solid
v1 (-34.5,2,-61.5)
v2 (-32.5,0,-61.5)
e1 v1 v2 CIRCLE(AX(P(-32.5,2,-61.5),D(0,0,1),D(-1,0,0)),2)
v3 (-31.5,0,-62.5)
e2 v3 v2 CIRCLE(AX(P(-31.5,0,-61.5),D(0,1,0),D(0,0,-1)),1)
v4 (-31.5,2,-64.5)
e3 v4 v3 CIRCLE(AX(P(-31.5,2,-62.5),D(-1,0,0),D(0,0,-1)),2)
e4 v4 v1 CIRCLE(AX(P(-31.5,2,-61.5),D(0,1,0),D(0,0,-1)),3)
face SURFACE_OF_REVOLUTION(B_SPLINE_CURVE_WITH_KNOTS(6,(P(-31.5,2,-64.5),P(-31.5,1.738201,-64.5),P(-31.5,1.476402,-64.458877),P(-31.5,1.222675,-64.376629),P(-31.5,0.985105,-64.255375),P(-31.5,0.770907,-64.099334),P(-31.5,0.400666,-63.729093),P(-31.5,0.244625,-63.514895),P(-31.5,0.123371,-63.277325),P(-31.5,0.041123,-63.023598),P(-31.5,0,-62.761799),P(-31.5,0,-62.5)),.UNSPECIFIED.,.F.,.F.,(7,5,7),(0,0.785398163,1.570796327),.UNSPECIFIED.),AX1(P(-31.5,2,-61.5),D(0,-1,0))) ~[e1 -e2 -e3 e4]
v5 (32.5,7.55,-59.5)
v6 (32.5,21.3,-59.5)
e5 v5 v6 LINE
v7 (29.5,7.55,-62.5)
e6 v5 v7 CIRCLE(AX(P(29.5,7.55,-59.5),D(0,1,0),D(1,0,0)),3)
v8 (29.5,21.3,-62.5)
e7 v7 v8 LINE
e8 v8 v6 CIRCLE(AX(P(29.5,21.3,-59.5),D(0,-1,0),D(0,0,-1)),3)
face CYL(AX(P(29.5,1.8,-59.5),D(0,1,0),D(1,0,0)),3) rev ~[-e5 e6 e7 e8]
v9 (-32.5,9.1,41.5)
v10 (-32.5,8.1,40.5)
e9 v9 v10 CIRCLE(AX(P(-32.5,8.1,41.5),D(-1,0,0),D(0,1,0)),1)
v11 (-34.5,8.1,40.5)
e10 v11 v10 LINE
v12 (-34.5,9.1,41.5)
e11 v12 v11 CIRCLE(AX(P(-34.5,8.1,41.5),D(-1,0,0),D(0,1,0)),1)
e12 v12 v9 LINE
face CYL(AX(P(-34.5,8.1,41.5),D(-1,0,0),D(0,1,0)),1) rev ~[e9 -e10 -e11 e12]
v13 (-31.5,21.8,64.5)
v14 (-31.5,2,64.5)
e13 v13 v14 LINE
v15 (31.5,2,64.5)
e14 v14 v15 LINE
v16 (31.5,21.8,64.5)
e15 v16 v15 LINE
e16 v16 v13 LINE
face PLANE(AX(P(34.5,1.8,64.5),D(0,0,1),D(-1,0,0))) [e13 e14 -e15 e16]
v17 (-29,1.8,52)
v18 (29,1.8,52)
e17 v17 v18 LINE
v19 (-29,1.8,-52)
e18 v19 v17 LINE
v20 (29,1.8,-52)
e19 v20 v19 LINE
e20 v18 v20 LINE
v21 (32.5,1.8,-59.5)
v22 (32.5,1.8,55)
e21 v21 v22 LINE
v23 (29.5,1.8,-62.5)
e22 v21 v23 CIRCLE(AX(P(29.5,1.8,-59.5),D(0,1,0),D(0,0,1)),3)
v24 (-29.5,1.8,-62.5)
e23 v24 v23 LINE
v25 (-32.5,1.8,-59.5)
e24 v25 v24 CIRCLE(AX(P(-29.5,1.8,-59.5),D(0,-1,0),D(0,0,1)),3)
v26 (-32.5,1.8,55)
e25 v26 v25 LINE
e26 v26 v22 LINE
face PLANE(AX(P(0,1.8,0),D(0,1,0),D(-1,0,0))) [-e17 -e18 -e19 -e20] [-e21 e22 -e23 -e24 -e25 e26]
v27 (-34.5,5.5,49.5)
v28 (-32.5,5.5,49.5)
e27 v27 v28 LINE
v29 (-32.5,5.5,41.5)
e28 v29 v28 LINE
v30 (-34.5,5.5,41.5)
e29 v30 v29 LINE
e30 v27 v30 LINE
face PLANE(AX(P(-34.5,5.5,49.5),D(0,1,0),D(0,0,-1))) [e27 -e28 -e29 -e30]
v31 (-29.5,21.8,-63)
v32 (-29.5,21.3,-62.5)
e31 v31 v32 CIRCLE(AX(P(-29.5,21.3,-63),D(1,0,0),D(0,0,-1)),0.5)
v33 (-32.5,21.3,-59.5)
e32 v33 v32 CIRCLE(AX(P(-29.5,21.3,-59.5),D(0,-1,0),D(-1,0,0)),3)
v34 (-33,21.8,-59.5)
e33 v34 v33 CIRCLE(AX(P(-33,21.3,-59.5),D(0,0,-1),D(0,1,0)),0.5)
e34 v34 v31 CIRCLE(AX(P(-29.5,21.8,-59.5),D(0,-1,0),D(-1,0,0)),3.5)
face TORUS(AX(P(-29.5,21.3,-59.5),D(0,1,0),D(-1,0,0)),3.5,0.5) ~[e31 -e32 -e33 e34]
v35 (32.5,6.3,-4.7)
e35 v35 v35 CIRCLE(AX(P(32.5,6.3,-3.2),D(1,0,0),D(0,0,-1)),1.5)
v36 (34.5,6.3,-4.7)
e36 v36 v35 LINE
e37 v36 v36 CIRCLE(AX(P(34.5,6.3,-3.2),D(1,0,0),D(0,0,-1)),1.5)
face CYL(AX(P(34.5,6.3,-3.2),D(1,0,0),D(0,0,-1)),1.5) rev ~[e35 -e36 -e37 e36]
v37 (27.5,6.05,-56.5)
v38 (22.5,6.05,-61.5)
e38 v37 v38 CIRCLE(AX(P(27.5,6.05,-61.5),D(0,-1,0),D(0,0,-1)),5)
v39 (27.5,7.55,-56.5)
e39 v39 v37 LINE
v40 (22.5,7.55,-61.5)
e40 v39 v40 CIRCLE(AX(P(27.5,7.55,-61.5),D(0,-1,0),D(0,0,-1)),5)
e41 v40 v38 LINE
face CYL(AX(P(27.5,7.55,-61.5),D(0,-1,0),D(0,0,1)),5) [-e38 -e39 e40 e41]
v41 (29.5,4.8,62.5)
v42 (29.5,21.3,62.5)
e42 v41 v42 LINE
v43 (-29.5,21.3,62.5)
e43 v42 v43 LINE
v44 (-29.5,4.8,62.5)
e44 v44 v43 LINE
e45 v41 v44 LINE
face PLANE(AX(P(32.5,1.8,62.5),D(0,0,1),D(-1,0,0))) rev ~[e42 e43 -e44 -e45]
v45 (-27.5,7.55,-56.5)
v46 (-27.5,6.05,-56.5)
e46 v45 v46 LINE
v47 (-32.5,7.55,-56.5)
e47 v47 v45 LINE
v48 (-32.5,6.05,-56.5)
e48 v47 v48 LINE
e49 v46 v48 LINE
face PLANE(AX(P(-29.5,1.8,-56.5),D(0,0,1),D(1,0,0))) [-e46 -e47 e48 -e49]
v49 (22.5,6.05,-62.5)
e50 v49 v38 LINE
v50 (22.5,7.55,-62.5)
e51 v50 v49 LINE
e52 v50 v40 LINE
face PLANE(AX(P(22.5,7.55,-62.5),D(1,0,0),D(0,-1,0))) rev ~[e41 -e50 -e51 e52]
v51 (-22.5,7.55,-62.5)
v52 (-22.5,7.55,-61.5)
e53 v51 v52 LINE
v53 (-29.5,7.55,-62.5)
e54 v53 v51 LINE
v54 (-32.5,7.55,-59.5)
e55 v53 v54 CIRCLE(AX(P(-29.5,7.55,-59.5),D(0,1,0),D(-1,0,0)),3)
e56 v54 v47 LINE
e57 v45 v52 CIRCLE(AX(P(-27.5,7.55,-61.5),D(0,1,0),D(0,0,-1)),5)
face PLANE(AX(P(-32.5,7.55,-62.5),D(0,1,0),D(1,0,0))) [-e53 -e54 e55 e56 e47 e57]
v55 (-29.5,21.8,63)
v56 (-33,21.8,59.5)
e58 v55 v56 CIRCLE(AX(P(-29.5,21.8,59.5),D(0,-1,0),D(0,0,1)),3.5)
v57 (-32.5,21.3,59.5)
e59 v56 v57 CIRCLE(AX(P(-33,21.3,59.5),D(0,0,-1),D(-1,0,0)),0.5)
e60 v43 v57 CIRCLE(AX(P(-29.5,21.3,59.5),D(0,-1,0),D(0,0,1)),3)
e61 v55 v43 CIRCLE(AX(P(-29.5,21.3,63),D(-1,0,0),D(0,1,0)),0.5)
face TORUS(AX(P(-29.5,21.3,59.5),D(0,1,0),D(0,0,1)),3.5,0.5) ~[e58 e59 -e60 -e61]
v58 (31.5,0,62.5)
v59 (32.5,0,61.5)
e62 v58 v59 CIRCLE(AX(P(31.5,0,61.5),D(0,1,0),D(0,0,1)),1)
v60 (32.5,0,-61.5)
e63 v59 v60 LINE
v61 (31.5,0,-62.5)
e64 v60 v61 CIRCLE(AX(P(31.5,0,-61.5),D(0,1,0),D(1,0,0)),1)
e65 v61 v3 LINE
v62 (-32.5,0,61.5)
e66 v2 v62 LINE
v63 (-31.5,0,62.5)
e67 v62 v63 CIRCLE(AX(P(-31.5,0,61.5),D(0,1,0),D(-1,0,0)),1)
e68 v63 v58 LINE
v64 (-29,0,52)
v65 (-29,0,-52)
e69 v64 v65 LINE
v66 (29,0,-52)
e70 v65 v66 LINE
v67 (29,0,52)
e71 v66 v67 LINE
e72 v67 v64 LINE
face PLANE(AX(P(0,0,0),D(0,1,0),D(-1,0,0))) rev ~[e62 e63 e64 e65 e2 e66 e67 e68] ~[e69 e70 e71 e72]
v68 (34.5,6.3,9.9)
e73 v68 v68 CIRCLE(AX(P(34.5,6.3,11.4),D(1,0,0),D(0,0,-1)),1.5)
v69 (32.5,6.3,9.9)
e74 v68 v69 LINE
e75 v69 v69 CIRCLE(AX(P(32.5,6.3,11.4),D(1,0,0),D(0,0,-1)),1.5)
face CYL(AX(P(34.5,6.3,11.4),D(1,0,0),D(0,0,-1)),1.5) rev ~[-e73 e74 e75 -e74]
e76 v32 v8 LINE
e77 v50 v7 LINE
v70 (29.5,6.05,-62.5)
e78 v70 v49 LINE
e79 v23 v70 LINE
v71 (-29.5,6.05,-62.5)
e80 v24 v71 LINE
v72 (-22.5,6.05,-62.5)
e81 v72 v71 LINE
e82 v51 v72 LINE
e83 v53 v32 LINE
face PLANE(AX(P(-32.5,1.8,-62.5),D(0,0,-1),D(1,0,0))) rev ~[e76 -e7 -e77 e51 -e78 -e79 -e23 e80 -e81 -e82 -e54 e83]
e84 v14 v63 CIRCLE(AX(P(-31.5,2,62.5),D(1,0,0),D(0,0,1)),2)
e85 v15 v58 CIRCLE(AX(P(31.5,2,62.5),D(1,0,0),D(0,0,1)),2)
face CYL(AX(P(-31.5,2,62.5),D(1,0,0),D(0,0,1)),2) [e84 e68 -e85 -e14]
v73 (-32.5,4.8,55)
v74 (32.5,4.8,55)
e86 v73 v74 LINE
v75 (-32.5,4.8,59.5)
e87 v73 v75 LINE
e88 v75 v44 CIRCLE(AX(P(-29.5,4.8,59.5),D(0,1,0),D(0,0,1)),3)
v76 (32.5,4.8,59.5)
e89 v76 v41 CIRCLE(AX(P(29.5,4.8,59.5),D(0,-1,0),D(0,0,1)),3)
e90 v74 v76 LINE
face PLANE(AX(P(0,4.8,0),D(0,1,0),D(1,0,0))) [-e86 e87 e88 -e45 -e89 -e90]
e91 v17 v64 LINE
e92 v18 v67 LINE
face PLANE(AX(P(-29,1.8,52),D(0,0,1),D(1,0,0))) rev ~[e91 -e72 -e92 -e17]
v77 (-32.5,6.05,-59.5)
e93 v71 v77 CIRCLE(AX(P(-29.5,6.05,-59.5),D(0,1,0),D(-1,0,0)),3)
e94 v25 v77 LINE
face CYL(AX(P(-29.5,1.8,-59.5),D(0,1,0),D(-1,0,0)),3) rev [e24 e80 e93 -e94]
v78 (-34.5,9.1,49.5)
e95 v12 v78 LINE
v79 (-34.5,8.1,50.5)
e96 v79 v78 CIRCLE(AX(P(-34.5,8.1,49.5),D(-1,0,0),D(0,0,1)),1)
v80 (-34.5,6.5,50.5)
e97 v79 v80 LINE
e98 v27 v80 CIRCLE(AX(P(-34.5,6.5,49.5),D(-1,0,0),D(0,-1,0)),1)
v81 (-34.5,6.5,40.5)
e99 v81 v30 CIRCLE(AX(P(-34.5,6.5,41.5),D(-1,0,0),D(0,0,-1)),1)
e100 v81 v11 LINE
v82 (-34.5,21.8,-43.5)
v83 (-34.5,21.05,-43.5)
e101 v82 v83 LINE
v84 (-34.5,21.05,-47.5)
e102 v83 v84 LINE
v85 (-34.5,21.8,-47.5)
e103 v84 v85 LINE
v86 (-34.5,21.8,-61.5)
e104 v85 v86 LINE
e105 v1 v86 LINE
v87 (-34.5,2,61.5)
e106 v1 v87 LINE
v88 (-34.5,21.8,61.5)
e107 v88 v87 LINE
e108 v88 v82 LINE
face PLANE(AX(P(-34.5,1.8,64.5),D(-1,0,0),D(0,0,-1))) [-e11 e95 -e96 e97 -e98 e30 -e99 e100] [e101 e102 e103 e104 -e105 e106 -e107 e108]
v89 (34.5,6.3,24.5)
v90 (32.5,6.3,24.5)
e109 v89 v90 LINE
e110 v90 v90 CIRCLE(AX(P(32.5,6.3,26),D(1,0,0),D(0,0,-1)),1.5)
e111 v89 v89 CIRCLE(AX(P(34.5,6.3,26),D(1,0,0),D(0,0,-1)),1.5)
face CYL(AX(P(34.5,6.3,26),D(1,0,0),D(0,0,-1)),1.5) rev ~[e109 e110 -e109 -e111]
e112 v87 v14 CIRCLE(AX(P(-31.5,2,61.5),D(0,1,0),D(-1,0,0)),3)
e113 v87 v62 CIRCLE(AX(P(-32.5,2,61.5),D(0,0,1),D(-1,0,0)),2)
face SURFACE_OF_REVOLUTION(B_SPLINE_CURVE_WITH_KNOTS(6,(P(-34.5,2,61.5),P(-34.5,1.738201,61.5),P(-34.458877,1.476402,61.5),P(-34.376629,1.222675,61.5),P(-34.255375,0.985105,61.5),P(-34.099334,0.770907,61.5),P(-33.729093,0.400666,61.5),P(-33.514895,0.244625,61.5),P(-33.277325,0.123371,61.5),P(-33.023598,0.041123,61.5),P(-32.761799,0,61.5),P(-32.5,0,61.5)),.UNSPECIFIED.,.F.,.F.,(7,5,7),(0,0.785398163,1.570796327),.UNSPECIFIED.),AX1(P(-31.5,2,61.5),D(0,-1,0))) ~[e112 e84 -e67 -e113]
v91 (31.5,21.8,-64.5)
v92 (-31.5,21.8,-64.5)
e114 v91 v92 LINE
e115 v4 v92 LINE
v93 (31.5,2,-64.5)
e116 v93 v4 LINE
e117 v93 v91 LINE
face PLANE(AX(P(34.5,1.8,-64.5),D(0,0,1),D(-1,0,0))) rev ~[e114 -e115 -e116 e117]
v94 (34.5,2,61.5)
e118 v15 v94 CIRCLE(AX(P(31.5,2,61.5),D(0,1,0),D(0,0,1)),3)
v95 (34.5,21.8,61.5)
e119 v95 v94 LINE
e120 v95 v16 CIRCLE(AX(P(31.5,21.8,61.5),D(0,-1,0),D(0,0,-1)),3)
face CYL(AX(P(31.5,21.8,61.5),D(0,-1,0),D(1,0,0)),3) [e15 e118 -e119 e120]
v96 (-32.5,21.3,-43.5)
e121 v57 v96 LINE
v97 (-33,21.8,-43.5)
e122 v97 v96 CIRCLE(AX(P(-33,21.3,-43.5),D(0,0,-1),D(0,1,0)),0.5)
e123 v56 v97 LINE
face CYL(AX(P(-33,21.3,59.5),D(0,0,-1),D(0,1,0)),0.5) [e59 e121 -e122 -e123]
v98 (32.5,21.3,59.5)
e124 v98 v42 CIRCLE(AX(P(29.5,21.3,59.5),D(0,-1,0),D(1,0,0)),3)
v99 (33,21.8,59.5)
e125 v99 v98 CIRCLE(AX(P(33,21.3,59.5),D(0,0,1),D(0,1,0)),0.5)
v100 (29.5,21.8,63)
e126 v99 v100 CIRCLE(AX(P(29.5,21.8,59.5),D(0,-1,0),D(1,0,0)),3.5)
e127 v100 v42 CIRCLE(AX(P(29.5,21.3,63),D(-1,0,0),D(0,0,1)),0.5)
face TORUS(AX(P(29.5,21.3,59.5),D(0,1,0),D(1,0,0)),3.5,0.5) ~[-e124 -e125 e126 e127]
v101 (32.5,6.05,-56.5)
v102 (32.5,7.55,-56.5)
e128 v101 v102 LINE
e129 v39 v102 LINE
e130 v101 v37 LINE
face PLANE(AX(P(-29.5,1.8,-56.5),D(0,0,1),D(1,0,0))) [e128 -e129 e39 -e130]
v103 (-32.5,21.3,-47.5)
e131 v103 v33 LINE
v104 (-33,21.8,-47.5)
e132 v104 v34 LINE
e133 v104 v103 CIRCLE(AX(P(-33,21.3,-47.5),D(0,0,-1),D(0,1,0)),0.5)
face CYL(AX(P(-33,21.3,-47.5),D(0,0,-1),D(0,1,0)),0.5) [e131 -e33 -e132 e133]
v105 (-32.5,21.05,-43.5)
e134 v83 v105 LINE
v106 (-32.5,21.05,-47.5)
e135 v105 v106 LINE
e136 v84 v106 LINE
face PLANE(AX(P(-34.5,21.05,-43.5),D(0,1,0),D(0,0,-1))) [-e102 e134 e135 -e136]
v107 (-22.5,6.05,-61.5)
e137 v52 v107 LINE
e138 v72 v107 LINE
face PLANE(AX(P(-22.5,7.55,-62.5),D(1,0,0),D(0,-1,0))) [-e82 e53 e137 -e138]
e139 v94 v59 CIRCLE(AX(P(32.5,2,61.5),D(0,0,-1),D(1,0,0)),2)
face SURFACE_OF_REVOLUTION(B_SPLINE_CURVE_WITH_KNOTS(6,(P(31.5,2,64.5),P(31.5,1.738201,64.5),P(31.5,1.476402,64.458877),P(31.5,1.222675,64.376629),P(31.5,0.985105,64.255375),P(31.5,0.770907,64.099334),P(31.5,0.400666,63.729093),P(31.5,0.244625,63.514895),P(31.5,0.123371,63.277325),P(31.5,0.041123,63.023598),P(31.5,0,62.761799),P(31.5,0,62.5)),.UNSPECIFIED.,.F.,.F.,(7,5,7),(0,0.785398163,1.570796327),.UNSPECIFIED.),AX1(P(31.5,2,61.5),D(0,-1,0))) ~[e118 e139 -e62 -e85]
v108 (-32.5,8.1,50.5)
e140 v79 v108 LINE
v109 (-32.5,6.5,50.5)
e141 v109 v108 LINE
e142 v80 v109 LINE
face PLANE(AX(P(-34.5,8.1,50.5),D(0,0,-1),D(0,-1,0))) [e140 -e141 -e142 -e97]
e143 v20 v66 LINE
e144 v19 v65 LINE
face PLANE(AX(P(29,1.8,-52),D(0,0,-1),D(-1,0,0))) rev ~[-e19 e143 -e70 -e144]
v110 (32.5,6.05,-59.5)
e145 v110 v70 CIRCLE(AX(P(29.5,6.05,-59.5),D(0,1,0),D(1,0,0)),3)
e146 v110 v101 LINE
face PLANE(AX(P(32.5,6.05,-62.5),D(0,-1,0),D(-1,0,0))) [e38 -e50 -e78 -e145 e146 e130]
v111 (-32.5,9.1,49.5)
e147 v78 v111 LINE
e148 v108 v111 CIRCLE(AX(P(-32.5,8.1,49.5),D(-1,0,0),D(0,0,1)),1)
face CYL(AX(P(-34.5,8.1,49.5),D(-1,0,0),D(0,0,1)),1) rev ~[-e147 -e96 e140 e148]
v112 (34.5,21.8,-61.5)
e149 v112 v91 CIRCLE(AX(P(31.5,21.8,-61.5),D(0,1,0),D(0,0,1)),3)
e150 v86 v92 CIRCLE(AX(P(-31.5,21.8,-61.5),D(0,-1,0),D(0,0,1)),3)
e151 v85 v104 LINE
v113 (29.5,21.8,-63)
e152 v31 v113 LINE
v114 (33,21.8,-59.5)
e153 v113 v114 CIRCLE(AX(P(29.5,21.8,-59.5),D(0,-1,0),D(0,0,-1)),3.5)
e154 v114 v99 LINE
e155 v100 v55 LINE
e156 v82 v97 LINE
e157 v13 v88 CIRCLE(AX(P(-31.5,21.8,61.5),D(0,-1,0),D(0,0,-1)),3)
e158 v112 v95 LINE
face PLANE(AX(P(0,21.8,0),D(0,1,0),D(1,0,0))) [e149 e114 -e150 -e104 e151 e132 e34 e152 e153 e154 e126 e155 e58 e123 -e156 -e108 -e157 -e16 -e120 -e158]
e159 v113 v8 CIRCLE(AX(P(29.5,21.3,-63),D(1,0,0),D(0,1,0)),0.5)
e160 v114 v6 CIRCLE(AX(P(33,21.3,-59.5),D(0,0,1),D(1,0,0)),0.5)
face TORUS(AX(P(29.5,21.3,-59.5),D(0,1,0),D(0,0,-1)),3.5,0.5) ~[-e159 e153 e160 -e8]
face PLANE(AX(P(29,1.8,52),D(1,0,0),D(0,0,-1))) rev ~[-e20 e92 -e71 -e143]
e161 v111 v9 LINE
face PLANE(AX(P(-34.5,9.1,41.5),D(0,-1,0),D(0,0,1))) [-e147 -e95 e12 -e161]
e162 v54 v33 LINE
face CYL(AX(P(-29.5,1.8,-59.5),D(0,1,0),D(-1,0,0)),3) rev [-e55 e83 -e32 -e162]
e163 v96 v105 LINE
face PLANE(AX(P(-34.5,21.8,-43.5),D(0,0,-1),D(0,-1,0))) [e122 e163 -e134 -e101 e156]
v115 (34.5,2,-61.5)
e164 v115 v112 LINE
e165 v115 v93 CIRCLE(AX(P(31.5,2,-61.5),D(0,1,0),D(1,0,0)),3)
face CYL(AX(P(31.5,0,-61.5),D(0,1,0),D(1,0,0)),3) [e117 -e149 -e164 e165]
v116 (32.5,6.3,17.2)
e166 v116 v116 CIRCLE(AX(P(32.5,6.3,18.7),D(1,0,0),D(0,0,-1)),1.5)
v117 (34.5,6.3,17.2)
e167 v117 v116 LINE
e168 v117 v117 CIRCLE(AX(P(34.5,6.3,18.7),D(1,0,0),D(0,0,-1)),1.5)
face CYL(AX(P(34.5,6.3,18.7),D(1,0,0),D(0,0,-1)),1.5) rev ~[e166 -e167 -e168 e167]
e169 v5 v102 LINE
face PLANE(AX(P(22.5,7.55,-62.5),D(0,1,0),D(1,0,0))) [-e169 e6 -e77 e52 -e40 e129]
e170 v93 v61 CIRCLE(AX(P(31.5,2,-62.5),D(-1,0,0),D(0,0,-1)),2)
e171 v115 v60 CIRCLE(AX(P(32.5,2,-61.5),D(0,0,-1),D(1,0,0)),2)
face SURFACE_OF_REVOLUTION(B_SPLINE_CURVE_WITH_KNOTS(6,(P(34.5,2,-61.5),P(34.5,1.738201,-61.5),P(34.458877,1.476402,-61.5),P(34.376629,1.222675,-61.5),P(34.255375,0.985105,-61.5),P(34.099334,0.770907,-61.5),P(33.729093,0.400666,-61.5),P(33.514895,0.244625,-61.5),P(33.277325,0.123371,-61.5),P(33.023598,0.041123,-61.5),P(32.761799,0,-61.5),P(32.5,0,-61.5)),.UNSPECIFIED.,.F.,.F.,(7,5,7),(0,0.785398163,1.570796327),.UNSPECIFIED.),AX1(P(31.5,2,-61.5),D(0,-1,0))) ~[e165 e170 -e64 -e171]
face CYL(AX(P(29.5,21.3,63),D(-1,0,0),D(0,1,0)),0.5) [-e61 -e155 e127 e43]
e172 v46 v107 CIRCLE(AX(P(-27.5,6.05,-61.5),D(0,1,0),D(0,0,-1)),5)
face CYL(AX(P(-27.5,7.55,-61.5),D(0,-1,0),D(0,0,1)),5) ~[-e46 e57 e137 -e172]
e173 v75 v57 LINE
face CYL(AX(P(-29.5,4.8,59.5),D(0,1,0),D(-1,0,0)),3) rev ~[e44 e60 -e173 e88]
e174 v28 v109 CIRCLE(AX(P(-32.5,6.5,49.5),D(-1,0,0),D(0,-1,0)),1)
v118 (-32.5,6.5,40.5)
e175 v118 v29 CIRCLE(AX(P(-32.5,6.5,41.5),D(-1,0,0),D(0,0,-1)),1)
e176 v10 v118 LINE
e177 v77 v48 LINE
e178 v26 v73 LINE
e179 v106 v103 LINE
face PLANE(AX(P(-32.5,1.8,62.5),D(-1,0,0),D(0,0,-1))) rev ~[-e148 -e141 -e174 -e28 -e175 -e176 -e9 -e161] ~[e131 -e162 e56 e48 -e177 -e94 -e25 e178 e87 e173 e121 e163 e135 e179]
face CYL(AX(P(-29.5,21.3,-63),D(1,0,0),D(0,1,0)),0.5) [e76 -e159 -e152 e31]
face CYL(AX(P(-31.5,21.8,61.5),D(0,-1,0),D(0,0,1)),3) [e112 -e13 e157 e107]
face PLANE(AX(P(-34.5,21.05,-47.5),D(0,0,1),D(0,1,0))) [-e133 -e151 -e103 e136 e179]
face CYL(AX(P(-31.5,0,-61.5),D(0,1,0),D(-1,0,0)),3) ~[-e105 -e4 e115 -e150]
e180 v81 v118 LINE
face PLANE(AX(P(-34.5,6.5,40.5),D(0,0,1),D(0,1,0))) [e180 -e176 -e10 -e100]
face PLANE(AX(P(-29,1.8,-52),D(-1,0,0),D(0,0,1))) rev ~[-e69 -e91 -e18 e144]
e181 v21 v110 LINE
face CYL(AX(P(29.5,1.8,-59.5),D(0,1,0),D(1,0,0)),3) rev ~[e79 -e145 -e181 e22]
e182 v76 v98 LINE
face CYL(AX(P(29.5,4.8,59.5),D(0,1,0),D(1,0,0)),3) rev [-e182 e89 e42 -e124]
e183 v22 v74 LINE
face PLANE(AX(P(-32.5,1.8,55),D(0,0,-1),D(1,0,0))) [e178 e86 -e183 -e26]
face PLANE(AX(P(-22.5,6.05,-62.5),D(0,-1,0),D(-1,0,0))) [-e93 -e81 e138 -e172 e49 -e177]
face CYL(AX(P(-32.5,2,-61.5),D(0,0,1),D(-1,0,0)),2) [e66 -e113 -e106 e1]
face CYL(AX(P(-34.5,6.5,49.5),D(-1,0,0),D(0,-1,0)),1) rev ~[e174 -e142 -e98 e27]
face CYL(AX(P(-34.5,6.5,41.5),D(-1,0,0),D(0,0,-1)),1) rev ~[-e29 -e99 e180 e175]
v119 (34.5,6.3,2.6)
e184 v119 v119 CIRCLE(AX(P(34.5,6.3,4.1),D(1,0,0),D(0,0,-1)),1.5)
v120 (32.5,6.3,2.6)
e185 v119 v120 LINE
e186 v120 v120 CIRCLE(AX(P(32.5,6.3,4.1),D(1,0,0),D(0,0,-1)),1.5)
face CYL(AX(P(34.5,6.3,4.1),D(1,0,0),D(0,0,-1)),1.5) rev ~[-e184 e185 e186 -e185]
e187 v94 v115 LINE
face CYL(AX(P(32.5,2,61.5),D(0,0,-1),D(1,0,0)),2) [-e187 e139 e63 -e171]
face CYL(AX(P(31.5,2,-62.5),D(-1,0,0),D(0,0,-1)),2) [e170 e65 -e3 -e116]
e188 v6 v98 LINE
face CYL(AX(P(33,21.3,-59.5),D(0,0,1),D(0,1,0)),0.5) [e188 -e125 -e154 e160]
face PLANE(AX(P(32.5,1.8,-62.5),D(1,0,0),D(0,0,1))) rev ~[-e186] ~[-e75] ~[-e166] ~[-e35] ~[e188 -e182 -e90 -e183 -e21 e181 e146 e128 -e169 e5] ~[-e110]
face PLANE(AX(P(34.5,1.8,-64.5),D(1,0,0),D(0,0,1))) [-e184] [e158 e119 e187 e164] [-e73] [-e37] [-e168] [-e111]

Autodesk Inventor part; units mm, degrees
ref_plane "YZ Plane" through (0, 0, 0) normal (1, 0, 0) x (0, 1, 0)
ref_plane "XZ Plane" through (0, 0, 0) normal (0, 1, 0) x (-1, 0, 0)
ref_plane "XY Plane" through (0, 0, 0) normal (0, 0, 1) x (1, 0, 0)
sketch "Sketch1" plane through (0, 0, 0) normal (0, 1, 0) x (-1, 0, 0)
  line L0 (34.5, 64.5) -> (-34.5, 64.5)
  line L1 (-34.5, 64.5) -> (-34.5, -64.5)
  line L2 (-34.5, -64.5) -> (34.5, -64.5)
  line L3 (34.5, -64.5) -> (34.5, 64.5)
  line L4 (34.5, 64.5) -> (-34.5, -64.5) construction
  line L5 (-34.5, 64.5) -> (34.5, -64.5) construction
  point P0 (0, 0)
  dimension "d0" = 69
  dimension "d1" = 129
extrude "Extrusion1" add sketch "Sketch1" along normal blind 1.8
sketch "Sketch2" plane through (0, 1.8, 0) normal (0, 1, 0) x (1, 0, 0)
  line L0 (-29, -52) -> (29, -52)
  line L1 (29, -52) -> (29, 52)
  line L2 (29, 52) -> (-29, 52)
  line L3 (-29, 52) -> (-29, -52)
  line L4 (-29, -52) -> (29, 52) construction
  line L5 (29, -52) -> (-29, 52) construction
  point P0 (0, 0)
  dimension "d4" = 104
  dimension "d5" = 58
extrude "Extrusion2" cut sketch "Sketch2" against normal up to next
sketch "Sketch3" plane through (0, 1.8, 0) normal (0, 1, 0) x (1, 0, 0)
  line L0 (34.5, 64.5) -> (-34.5, 64.5) projected
  line L1 (-34.5, 64.5) -> (34.5, 64.5)
  line L2 (34.5, 64.5) -> (34.5, -64.5)
  line L3 (34.5, -64.5) -> (-34.5, -64.5)
  line L4 (-34.5, -64.5) -> (-34.5, 64.5)
  line L5 (-32.5, 62.5) -> (32.5, 62.5)
  line L6 (32.5, 62.5) -> (32.5, -62.5)
  line L7 (32.5, -62.5) -> (-32.5, -62.5)
  line L8 (-32.5, -62.5) -> (-32.5, 62.5)
  point P0 (0, 0)
  dimension "d8" = 2
  dimension "d9" = 2
  dimension "d10" = 2
  dimension "d11" = 2
extrude "Extrusion3" add sketch "Sketch3" along normal blind 20
sketch "Sketch4" plane through (0, 1.8, 0) normal (0, 1, 0) x (1, 0, 0)
  line L0 (32.5, -62.5) -> (-32.5, -62.5) projected
  line L1 (-32.5, 62.5) -> (-32.5, -62.5) projected
  line L2 (32.5, -62.5) -> (-32.5, -62.5)
  line L3 (-32.5, -62.5) -> (-32.5, -55)
  line L4 (-32.5, -55) -> (32.5, -55)
  line L5 (32.5, -55) -> (32.5, -62.5)
  line L6 (32.5, 62.5) -> (-32.5, 62.5) projected
  dimension "d36" = 117.5
extrude "Extrusion4" add sketch "Sketch4" along normal blind 3
sketch "Sketch5" plane through (0, 1.8, 0) normal (0, 1, 0) x (1, 0, 0)
  line L0 (-32.5, -62.5) -> (-32.5, 62.5) projected
  line L1 (-32.5, -62) -> (32.5, -62)
  line L2 (32.5, 62.5) -> (32.5, -62.5) projected
  line L3 (29, -52) -> (-29, -52) projected
  point P0 (0, 0)
  dimension "d17" = 10
fillet "Fillet1" radius 3 8 edges at (-32.5, 13.3, 62.5) (-34.5, 10.9, 64.5) (34.5, 10.9, 64.5) (32.5, 13.3, 62.5) (-32.5, 11.8, -62.5) (32.5, 11.8, -62.5) (34.5, 10.9, -64.5) (-34.5, 10.9, -64.5)
fillet "Fillet2" radius 2 8 edges at (33.6213, 0, -63.6213) (0, 0, -64.5) (-33.6213, 0, -63.6213) (-34.5, 0, 0) (-33.6213, 0, 63.6213) (0, 0, 64.5) (33.6213, 0, 63.6213) (34.5, 0, 0)
sketch "Sketch6" plane through (-34.5, 21.8, -61.5) normal (-1, 0, 0) x (0, 0, 1)
  line L0 (6.5, -12) -> (6.5, -15) projected
  line L1 (6.5, -15) -> (6.5, -12) projected
  line L2 (103, -12.7) -> (111, -12.7)
  line L3 (112, -13.7) -> (112, -15.3)
  line L4 (111, -16.3) -> (103, -16.3)
  line L5 (102, -15.3) -> (102, -13.7)
  line L6 (9.5, -20) -> (113.5, -20) projected
  line L7 (113.5, -20) -> (9.5, -20) projected
  line L8 (116.5, -20) -> (2, -20) projected
  line L9 (2, -20) -> (116.5, -20) projected
  arc A0 (103, -12.7) -> (102, -13.7) centre (103, -13.7) ccw
  arc A1 (102, -15.3) -> (103, -16.3) centre (103, -15.3) ccw
  arc A2 (112, -13.7) -> (111, -12.7) centre (111, -13.7) ccw
  arc A3 (111, -16.3) -> (112, -15.3) centre (111, -15.3) ccw
  line L10 (2, -20) -> (-1, -20) projected
  line L11 (-1, -20) -> (2, -20) projected
  line L12 (116.5, -20) -> (116.5, -17)
  point P0 (61.5, -21.8)
  point P1 (102, -12.7)
  point P2 (112, -16.3)
  point P3 (112, -12.7)
  point P4 (121, -15)
  point P5 (112, -14.5)
  point P6 (107, -16.3)
  dimension "d20" = 10
  dimension "d21" = 3.6
  dimension "d25" = 1
  dimension "d38" = 4.5
  dimension "d39" = 3.7
extrude "Extrusion5" cut sketch "Sketch6" against normal up to next
sketch "Sketch7" plane through (34.5, 21.8, 61.5) normal (1, 0, 0) x (0, 0, -1)
  line L0 (116.5, -12) -> (116.5, -15) projected
  line L1 (6.5, -20) -> (121, -20) projected
  circle A0 centre (35.5, -15.5) radius 1.5
  line L2 (6.5, -20) -> (6.5, -17) projected
  point P0 (61.5, -21.8)
  point P1 (2, -15)
  point P2 (6.5, -18.5)
  dimension "d29" = 4.5
  dimension "d30" = 3
  dimension "d37" = 29
extrude "Extrusion6" cut sketch "Sketch7" against normal up to next
pattern_linear "Rectangular Pattern1" count 5 spacing 7.3 along (0, 0, -1) of "Extrusion6"
sketch "Sketch8" plane through (0, 0, 0) normal (0, -1, 0) x (1, 0, 0)
  point P0 (0, 0)
sketch "Sketch9" plane through (-34.5, 21.8, -61.5) normal (-1, 0, 0) x (0, 0, 1)
  line L0 (123, 0) -> (0, 0) projected
  line L1 (14, 0) -> (18, 0)
  line L2 (18, 0) -> (18, -0.75)
  line L3 (18, -0.75) -> (14, -0.75)
  line L4 (14, -0.75) -> (14, 0)
  point P0 (61.5, -21.8)
  point P1 (-1, 0)
  point P2 (14, -0.375)
  point P3 (18, 0)
  dimension "d40" = 0.75
  dimension "d41" = 4
  dimension "d42" = 15
extrude "Extrusion7" cut sketch "Sketch9" against normal up to surface (2 mm away)
fillet "Fillet3" radius 0.5 5 edges at (0, 21.8, 62.5) (-32.5, 21.8, 8) (0, 21.8, -62.5) (-32.5, 21.8, -53.5) (32.5, 21.8, 0)
sketch "Sketch10" plane through (-29.5, 1.8, -62.5) normal (0, 0, 1) x (1, 0, 0)
  line L0 (-3.2949, 5.75) -> (63.1479, 5.75)
  line L1 (63.1479, 5.75) -> (63.1479, 4.25)
  line L2 (63.1479, 4.25) -> (-3.2949, 4.25)
  line L3 (-3.2949, 4.25) -> (-3.2949, 5.75)
  line L4 (59, 0) -> (0, 0) projected
  line L5 (7, 5.75) -> (7, 4.25)
  line L6 (52, 5.75) -> (52, 4.25)
  line L7 (-3, 19.5) -> (-3, 0) projected
  line L8 (62, 0) -> (62, 19.5) projected
  point P0 (29.5, -1.8)
  point P1 (52, 5)
  point P2 (62, 4.25)
  point P3 (62, 5.75)
  point P4 (-3, 5.75)
  point P5 (-3, 4.25)
  dimension "d46" = 4.25
  dimension "d47" = 1.5
  dimension "d48" = 10
  dimension "d49" = 10
extrude "Extrusion8" add sketch "Sketch10" along normal blind 6 contours L5 L2 L7 L0 | L0 L8 L2 L6
fillet "Fillet4" radius 5 2 edges at (-22.5, 6.8, -56.5) (22.5, 6.8, -56.5)
